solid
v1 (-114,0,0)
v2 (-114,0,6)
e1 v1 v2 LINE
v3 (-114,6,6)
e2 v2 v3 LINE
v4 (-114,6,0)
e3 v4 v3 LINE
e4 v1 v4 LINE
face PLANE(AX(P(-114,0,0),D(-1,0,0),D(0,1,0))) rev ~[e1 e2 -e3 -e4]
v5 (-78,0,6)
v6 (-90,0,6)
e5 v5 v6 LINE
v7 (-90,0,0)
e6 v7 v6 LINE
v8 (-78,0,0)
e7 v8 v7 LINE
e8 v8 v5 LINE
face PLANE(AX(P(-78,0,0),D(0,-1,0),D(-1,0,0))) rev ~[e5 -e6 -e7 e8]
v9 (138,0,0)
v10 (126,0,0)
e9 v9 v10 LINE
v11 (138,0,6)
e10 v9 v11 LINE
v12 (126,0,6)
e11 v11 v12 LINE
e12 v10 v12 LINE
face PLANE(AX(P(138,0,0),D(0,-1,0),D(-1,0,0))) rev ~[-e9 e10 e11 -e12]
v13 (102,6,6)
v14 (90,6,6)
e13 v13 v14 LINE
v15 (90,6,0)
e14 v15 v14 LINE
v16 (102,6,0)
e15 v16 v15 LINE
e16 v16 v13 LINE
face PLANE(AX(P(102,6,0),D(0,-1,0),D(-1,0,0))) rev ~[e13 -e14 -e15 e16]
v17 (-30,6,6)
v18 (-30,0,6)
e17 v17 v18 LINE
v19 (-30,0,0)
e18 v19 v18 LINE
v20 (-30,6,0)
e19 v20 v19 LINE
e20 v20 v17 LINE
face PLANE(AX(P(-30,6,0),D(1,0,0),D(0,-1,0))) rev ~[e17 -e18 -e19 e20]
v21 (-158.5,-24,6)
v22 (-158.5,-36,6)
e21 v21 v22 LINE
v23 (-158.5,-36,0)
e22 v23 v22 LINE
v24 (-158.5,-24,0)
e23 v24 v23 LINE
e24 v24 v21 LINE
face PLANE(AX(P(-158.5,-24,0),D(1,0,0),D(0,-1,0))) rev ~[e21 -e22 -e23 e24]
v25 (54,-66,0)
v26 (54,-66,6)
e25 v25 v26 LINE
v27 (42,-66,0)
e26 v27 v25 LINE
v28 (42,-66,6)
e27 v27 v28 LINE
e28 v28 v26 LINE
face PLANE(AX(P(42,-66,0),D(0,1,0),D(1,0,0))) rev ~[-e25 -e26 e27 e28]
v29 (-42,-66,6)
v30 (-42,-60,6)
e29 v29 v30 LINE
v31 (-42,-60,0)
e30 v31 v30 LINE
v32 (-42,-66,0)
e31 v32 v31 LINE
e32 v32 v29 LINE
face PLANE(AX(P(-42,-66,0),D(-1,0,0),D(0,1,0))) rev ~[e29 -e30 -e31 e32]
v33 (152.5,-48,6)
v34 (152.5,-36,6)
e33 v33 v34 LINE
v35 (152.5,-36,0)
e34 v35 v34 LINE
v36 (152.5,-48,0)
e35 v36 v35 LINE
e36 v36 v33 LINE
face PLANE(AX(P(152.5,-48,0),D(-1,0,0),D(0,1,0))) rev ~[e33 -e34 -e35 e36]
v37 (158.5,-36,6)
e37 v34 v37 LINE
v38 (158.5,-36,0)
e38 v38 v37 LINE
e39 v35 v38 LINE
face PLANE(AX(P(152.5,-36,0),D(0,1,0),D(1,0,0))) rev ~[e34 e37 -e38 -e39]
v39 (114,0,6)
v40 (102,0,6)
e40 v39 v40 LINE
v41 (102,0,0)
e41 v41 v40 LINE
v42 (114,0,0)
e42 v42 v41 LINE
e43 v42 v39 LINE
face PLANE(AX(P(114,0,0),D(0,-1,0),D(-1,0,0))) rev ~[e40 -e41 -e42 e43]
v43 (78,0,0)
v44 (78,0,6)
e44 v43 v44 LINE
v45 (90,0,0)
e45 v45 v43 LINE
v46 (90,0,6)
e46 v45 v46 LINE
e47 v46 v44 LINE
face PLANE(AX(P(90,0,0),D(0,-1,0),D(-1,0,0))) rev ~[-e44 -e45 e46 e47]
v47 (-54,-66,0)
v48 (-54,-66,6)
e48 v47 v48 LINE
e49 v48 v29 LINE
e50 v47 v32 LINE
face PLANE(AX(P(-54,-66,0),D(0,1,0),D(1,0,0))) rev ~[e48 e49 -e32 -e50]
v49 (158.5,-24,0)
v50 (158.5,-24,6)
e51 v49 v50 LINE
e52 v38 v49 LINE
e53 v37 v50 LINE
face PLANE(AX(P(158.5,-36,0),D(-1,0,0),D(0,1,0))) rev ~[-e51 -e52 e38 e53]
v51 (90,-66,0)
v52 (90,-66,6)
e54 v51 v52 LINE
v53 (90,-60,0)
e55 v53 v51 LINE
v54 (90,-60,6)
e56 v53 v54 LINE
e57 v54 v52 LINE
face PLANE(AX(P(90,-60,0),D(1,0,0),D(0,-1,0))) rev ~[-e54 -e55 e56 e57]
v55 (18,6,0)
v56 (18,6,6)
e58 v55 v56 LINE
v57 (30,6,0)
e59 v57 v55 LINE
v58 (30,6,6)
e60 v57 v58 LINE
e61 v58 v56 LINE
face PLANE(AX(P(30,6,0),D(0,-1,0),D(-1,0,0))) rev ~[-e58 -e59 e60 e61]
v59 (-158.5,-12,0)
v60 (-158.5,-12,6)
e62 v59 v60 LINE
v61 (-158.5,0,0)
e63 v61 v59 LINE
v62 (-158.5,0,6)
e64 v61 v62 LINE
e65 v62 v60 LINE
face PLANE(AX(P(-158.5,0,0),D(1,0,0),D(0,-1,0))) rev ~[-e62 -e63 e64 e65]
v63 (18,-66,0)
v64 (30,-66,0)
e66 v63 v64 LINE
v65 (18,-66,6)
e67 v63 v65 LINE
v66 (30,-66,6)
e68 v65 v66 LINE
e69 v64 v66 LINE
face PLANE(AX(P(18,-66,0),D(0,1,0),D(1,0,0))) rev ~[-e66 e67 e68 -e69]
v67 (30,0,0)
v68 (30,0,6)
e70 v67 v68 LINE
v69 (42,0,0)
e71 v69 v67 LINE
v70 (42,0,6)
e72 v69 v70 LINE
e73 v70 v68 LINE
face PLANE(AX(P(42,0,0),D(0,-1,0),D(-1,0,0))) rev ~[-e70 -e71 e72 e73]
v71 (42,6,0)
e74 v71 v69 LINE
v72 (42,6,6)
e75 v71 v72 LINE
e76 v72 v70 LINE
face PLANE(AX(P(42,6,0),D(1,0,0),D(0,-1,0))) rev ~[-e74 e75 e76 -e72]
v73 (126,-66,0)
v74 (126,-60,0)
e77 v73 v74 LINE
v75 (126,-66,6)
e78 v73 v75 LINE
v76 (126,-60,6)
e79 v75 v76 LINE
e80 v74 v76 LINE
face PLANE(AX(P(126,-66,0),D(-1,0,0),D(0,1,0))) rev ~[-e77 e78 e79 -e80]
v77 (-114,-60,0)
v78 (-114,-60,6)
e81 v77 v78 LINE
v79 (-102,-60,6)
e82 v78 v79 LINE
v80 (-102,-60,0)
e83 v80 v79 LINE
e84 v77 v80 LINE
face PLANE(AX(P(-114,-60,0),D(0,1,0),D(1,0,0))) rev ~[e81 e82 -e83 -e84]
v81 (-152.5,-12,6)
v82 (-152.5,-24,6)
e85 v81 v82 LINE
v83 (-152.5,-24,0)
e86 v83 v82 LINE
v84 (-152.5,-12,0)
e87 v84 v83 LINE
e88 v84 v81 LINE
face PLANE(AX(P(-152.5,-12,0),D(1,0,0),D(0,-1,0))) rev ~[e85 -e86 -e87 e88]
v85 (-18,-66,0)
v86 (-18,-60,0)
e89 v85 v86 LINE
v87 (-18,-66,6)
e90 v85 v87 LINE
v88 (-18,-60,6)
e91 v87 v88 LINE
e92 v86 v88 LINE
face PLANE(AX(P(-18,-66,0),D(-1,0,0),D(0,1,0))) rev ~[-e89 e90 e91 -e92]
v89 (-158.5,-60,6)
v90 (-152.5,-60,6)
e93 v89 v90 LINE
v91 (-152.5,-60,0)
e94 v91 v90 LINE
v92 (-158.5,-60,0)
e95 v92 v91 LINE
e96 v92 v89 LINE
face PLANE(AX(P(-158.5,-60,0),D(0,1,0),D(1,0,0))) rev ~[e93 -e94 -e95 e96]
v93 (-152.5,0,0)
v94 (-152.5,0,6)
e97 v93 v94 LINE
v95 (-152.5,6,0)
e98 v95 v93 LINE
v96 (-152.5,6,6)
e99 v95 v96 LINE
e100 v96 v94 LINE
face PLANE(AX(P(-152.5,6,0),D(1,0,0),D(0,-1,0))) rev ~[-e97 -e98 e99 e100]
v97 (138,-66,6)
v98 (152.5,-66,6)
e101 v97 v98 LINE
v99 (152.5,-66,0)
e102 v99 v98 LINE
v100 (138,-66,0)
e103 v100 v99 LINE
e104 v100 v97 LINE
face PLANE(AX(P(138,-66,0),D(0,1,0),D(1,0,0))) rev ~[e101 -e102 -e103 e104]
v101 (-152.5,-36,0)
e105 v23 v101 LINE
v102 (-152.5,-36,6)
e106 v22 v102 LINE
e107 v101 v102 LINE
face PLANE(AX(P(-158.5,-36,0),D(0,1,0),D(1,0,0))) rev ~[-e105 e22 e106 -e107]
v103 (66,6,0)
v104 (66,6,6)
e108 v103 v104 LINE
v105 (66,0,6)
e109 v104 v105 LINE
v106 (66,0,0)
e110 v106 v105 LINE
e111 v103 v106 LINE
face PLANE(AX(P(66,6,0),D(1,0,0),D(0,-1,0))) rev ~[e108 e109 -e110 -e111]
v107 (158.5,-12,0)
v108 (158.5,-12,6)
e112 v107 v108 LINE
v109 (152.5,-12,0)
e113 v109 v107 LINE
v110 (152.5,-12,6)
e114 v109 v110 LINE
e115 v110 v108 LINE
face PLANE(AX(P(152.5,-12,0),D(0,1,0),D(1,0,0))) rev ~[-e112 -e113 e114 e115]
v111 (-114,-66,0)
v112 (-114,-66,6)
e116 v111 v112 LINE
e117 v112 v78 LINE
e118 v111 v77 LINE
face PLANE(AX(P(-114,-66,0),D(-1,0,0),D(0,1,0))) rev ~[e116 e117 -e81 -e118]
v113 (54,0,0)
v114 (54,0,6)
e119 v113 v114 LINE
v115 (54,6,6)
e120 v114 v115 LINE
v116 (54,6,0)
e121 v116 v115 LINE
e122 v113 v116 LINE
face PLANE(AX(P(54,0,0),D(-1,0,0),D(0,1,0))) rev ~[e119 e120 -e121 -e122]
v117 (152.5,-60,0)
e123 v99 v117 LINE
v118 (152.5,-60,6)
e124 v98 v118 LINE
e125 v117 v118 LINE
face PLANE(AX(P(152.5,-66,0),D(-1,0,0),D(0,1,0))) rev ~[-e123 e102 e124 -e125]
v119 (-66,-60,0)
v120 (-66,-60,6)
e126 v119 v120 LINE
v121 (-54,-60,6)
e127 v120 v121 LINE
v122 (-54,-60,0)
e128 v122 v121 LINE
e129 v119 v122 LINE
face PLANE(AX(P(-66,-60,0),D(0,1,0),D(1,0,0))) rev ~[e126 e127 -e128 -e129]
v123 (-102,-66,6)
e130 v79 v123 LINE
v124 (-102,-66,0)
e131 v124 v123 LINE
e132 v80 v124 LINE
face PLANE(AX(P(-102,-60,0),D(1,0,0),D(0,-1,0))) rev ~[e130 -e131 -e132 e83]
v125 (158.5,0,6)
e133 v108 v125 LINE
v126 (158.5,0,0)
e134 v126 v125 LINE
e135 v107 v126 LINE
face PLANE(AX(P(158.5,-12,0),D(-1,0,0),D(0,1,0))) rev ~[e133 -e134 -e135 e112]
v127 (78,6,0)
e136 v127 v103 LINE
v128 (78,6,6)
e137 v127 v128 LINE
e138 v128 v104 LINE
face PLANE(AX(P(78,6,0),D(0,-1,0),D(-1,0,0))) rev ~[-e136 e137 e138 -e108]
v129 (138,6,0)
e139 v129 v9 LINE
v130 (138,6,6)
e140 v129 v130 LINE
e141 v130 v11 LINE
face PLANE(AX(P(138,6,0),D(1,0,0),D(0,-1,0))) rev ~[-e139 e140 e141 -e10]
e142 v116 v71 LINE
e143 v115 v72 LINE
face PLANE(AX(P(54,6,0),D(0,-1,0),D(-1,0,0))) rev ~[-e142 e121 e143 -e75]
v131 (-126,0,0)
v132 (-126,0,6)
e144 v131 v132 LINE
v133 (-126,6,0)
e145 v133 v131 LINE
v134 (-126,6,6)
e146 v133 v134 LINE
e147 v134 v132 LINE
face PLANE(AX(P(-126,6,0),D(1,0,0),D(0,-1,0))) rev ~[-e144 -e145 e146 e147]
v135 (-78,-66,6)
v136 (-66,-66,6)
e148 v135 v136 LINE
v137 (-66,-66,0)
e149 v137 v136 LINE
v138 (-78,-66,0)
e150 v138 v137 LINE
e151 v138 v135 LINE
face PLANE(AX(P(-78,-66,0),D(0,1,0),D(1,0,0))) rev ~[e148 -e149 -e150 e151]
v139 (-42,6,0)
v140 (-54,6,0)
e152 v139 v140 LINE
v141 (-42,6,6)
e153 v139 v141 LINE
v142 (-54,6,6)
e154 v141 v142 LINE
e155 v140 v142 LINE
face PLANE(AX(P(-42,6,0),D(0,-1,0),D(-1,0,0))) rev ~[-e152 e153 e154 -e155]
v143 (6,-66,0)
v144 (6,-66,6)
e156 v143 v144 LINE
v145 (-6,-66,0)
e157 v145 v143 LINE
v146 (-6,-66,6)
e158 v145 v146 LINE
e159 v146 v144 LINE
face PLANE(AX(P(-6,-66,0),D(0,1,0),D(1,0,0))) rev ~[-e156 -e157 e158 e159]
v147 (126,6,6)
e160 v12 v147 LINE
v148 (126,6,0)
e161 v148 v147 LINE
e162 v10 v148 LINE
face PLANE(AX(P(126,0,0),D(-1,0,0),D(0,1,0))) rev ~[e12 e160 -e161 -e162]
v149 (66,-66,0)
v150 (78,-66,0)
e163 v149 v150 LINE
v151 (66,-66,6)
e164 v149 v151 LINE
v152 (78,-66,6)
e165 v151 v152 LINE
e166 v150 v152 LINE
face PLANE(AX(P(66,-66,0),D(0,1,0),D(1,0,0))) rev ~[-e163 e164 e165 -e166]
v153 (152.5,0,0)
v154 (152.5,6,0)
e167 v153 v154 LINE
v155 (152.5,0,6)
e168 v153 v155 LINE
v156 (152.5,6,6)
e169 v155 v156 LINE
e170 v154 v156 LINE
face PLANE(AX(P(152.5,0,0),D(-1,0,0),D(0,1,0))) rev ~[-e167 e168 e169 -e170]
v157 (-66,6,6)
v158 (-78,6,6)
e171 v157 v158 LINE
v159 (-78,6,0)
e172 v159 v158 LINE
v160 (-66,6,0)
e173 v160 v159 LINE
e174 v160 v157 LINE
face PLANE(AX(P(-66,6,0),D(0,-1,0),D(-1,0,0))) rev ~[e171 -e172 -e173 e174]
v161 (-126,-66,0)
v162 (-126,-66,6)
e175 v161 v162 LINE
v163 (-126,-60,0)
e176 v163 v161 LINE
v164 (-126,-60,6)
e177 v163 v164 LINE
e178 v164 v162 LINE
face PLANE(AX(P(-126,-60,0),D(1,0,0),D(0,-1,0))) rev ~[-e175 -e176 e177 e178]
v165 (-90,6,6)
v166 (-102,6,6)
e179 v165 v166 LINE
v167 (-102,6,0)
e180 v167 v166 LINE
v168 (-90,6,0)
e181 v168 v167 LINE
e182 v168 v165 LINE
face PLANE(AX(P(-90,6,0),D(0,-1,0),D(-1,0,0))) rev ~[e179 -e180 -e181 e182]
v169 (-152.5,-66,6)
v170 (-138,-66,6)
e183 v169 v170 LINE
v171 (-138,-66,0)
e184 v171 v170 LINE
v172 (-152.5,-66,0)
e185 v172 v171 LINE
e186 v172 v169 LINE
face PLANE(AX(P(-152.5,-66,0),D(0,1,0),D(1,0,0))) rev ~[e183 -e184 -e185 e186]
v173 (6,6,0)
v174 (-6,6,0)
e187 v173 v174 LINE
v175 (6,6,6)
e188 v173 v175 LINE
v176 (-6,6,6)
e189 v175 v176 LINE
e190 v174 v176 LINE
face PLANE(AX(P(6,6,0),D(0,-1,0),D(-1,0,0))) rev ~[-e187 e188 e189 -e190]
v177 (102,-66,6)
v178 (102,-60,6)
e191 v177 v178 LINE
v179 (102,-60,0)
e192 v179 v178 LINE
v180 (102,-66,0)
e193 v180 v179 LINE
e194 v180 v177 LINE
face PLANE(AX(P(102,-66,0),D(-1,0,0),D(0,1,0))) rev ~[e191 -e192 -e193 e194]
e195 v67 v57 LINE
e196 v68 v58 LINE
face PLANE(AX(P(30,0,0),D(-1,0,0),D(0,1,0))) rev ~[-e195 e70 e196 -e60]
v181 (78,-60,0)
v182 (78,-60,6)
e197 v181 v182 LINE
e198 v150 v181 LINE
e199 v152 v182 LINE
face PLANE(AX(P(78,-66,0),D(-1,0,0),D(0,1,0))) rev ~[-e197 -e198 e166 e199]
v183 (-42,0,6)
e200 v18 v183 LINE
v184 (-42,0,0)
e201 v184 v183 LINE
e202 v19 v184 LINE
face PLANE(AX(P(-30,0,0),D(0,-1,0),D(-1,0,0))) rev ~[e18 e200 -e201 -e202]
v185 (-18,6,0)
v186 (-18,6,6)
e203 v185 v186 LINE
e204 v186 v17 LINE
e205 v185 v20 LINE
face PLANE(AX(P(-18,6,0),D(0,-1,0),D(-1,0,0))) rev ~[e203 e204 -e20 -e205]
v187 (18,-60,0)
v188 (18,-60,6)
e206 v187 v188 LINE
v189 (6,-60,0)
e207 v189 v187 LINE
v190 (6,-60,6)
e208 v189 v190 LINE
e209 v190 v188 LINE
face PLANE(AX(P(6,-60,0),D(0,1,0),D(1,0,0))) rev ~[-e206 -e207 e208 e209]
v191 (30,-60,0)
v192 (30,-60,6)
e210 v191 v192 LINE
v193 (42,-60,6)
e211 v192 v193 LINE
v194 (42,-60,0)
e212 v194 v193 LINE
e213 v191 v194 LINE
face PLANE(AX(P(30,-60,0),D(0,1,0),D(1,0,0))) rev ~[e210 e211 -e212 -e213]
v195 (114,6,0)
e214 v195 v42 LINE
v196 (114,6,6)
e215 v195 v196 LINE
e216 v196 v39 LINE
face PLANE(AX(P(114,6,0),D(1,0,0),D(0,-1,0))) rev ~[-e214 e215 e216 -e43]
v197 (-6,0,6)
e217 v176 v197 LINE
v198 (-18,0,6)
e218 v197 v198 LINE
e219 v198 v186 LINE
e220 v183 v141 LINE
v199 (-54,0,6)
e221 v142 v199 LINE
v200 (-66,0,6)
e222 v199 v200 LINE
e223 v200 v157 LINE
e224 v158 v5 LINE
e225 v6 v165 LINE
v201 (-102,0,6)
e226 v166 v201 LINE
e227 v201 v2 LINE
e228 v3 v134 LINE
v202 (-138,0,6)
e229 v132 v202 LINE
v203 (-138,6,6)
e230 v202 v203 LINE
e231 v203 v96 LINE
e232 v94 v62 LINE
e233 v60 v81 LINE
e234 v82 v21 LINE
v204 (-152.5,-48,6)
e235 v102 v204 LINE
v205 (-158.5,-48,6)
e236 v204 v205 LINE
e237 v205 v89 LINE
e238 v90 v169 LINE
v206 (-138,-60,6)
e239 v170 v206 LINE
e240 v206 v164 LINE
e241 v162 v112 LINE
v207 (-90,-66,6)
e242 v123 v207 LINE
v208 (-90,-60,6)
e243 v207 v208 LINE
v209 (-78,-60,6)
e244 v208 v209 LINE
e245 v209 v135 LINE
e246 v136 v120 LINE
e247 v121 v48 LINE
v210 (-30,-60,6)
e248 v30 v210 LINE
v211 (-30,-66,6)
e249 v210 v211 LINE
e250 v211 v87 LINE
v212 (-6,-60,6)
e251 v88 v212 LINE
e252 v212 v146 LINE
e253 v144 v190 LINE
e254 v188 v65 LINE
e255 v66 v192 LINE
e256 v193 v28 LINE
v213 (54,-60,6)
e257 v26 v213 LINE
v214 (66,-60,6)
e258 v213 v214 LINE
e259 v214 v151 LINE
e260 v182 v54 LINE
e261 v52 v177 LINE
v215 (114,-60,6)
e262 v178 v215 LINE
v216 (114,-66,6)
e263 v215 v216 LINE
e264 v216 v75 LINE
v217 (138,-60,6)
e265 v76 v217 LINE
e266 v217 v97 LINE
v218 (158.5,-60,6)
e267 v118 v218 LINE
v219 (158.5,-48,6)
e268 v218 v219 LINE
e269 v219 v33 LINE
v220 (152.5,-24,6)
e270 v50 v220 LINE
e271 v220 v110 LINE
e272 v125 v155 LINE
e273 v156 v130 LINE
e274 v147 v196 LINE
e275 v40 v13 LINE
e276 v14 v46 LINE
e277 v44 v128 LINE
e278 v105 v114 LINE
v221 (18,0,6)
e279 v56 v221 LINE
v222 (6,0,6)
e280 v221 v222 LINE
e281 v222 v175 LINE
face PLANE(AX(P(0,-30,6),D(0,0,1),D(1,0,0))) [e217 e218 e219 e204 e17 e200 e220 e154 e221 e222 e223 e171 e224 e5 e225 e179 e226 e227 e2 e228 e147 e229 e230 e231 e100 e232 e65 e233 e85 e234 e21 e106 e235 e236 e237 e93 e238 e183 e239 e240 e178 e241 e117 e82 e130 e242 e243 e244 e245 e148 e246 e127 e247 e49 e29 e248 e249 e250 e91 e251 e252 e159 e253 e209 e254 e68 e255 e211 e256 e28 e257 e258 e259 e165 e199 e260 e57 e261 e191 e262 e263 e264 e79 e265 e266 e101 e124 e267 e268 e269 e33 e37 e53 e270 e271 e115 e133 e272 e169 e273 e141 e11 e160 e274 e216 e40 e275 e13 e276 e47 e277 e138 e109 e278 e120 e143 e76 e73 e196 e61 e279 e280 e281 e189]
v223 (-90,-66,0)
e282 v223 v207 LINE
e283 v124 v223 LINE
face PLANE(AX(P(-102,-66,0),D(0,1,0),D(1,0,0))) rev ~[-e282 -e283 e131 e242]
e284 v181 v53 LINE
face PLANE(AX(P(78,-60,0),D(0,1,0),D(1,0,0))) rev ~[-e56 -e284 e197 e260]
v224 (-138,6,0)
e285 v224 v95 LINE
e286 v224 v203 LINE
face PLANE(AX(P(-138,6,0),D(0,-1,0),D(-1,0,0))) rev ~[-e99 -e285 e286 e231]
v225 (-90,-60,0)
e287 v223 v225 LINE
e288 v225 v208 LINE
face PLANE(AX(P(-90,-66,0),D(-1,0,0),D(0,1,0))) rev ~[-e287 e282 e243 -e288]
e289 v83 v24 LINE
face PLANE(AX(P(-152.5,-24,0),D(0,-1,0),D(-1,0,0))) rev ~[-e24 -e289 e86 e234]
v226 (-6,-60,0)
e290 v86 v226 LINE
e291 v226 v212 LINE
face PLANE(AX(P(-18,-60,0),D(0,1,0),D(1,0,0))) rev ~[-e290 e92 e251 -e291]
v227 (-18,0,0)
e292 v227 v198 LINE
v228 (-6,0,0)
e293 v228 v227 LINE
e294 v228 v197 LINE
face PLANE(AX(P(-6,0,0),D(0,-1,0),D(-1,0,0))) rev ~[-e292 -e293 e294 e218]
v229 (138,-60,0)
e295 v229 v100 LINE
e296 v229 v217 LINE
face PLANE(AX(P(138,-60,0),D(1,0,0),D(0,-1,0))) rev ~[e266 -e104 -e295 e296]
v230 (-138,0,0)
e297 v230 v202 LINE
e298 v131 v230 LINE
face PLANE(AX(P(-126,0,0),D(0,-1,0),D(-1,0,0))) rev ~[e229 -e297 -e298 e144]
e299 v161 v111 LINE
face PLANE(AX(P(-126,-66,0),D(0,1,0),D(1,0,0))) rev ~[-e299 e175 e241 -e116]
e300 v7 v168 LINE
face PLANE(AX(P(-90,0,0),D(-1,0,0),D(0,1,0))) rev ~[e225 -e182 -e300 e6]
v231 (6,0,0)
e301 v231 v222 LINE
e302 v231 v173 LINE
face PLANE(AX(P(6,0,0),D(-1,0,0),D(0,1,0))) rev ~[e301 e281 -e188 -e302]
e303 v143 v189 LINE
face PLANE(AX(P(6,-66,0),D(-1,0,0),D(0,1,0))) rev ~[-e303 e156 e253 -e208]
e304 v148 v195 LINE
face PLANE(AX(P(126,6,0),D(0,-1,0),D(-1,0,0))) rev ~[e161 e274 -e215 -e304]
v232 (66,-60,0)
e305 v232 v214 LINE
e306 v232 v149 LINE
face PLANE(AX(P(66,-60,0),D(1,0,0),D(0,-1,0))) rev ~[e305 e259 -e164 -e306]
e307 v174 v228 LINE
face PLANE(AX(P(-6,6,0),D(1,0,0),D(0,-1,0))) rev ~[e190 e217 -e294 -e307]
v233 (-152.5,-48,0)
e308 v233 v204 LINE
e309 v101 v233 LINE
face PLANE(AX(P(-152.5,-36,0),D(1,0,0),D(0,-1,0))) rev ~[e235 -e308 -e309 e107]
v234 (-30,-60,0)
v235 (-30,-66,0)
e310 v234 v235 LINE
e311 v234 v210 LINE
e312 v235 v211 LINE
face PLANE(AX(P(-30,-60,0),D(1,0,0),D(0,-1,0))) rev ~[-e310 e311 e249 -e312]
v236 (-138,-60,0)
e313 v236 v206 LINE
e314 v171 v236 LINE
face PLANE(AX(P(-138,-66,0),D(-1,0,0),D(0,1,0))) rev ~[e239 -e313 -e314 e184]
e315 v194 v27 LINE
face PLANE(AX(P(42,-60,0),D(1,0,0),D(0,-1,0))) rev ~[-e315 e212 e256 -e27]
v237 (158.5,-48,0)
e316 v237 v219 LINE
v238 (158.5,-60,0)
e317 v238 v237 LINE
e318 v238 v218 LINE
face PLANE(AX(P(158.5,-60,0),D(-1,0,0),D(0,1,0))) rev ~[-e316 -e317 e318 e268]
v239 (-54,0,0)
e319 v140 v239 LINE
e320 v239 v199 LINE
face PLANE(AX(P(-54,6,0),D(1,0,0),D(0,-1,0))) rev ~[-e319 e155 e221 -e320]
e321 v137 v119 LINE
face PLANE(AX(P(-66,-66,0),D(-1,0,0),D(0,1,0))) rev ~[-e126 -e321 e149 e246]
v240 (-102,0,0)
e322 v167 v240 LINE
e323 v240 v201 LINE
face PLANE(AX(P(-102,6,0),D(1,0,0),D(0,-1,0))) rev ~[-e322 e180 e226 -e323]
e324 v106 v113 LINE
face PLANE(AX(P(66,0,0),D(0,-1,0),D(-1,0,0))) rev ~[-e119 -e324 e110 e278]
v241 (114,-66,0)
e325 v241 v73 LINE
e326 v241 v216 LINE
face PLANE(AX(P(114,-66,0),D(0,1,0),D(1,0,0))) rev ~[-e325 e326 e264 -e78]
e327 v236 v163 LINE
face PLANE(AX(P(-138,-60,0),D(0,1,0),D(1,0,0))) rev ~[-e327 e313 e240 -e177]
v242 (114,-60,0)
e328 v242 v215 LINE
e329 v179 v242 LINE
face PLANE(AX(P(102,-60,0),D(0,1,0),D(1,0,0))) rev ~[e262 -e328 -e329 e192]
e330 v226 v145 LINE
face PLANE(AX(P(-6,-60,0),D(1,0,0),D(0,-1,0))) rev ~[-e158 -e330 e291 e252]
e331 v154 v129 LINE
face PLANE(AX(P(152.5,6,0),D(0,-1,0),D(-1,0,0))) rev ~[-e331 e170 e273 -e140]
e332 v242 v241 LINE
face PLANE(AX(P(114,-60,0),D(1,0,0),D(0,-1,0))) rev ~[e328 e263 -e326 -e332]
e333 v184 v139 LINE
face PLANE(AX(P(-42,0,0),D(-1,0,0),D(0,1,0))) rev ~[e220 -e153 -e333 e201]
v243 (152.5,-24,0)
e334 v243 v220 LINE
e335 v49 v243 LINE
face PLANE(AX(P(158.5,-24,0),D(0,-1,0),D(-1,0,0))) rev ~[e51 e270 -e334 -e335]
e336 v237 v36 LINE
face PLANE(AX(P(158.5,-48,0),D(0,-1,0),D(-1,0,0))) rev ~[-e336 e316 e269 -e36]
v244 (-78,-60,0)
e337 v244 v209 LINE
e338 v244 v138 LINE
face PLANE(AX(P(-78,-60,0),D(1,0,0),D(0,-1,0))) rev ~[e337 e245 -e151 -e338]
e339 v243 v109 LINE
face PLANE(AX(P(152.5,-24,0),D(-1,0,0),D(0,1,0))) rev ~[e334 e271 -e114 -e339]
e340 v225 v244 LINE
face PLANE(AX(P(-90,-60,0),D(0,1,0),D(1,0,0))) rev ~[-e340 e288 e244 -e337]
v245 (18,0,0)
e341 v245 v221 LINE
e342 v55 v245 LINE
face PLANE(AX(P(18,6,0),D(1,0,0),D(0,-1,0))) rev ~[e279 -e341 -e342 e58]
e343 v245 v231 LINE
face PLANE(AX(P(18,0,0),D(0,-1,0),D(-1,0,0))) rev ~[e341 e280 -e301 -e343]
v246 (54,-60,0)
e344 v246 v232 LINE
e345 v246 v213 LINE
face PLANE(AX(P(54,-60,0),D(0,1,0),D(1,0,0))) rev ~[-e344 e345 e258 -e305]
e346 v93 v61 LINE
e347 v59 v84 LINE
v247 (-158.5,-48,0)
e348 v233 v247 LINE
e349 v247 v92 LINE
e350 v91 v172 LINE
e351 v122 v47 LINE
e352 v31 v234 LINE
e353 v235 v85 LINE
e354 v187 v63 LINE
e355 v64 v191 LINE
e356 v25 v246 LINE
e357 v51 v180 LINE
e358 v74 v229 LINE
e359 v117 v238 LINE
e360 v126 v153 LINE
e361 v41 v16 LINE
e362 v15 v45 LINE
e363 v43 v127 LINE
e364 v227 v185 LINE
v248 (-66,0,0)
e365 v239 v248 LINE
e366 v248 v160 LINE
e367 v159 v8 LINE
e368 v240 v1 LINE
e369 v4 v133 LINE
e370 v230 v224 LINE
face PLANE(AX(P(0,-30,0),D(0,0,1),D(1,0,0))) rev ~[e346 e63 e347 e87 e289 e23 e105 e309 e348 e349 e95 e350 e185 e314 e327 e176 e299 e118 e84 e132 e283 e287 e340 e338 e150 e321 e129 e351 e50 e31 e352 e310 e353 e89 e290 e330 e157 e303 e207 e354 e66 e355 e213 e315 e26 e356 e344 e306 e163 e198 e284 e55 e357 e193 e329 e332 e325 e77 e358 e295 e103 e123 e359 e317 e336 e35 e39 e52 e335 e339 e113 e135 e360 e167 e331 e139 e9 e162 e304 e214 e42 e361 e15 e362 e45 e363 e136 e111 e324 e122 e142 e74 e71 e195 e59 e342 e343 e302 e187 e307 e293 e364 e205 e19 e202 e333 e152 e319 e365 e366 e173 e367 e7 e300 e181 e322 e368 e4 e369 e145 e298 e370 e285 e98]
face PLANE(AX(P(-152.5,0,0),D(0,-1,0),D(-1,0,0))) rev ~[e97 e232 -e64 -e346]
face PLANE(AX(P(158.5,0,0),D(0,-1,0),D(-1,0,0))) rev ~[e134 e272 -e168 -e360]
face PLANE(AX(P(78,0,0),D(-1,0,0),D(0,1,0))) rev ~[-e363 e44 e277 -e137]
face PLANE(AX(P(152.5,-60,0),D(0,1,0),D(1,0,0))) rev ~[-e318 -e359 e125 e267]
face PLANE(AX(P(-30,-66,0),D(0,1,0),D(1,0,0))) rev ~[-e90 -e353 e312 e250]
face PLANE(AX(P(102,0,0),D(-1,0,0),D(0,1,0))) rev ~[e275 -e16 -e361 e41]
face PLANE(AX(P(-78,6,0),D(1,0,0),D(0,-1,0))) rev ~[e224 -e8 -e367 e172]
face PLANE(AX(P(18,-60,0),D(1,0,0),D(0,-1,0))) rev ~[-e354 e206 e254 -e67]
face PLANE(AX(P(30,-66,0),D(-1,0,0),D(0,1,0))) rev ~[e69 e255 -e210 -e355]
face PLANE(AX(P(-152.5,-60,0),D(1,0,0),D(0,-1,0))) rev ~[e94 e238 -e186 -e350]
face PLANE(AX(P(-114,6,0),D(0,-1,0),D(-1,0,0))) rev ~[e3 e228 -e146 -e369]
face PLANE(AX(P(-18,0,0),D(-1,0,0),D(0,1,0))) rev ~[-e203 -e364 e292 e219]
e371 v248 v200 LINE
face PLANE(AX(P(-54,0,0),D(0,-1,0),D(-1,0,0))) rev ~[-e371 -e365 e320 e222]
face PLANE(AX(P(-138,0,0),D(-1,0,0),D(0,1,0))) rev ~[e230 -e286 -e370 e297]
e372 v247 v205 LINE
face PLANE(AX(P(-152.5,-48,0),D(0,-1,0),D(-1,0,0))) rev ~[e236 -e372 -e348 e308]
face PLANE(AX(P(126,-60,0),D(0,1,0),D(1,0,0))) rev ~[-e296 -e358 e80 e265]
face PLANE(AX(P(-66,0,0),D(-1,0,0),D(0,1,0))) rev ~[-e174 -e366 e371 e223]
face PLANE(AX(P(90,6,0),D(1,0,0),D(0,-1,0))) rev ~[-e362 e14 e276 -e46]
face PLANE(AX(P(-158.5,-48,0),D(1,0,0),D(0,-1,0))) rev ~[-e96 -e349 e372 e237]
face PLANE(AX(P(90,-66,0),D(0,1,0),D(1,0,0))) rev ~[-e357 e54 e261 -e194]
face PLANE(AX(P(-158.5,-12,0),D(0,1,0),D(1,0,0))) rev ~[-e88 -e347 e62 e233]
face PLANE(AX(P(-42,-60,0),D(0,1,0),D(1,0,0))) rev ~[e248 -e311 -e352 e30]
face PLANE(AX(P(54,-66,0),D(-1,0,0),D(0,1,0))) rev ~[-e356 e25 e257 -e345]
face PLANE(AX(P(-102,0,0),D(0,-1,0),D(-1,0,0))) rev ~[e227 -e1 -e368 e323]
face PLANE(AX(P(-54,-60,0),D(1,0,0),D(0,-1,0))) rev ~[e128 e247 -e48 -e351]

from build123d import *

# Parameters (mm, degrees)
BOSS_EXTRUDE5_DEPTH = 6


with BuildPart() as part:
    # Sketch2 → Boss-Extrude5 (new body)
    with BuildSketch(Plane.XY):
        Polygon((-152.5, 6), (-152.5, 0), (-158.5, 0), (-158.5, -12), (-152.5, -12), (-152.5, -24), (-158.5, -24), (-158.5, -36), (-152.5, -36), (-152.5, -48), (-158.5, -48), (-158.5, -60), (-152.5, -60), (-152.5, -66), (-138, -66), (-138, -60), (-126, -60), (-126, -66), (-114, -66), (-114, -60), (-102, -60), (-102, -66), (-90, -66), (-90, -60), (-78, -60), (-78, -66), (-66, -66), (-66, -60), (-54, -60), (-54, -66), (-42, -66), (-42, -60), (-30, -60), (-30, -66), (-18, -66), (-18, -60), (-6, -60), (-6, -66), (6, -66), (6, -60), (18, -60), (18, -66), (30, -66), (30, -60), (42, -60), (42, -66), (54, -66), (54, -60), (66, -60), (66, -66), (78, -66), (78, -60), (90, -60), (90, -66), (102, -66), (102, -60), (114, -60), (114, -66), (126, -66), (126, -60), (138, -60), (138, -66), (152.5, -66), (152.5, -60), (158.5, -60), (158.5, -48), (152.5, -48), (152.5, -36), (158.5, -36), (158.5, -24), (152.5, -24), (152.5, -12), (158.5, -12), (158.5, 0), (152.5, 0), (152.5, 6), (138, 6), (138, 0), (126, 0), (126, 6), (114, 6), (114, 0), (102, 0), (102, 6), (90, 6), (90, 0), (78, 0), (78, 6), (66, 6), (66, 0), (54, 0), (54, 6), (42, 6), (42, 0), (30, 0), (30, 6), (18, 6), (18, 0), (6, 0), (6, 6), (-6, 6), (-6, 0), (-18, 0), (-18, 6), (-30, 6), (-30, 0), (-42, 0), (-42, 6), (-54, 6), (-54, 0), (-66, 0), (-66, 6), (-78, 6), (-78, 0), (-90, 0), (-90, 6), (-102, 6), (-102, 0), (-114, 0), (-114, 6), (-126, 6), (-126, 0), (-138, 0), (-138, 6), align=None)
    extrude(amount=BOSS_EXTRUDE5_DEPTH)


solid = part.part
